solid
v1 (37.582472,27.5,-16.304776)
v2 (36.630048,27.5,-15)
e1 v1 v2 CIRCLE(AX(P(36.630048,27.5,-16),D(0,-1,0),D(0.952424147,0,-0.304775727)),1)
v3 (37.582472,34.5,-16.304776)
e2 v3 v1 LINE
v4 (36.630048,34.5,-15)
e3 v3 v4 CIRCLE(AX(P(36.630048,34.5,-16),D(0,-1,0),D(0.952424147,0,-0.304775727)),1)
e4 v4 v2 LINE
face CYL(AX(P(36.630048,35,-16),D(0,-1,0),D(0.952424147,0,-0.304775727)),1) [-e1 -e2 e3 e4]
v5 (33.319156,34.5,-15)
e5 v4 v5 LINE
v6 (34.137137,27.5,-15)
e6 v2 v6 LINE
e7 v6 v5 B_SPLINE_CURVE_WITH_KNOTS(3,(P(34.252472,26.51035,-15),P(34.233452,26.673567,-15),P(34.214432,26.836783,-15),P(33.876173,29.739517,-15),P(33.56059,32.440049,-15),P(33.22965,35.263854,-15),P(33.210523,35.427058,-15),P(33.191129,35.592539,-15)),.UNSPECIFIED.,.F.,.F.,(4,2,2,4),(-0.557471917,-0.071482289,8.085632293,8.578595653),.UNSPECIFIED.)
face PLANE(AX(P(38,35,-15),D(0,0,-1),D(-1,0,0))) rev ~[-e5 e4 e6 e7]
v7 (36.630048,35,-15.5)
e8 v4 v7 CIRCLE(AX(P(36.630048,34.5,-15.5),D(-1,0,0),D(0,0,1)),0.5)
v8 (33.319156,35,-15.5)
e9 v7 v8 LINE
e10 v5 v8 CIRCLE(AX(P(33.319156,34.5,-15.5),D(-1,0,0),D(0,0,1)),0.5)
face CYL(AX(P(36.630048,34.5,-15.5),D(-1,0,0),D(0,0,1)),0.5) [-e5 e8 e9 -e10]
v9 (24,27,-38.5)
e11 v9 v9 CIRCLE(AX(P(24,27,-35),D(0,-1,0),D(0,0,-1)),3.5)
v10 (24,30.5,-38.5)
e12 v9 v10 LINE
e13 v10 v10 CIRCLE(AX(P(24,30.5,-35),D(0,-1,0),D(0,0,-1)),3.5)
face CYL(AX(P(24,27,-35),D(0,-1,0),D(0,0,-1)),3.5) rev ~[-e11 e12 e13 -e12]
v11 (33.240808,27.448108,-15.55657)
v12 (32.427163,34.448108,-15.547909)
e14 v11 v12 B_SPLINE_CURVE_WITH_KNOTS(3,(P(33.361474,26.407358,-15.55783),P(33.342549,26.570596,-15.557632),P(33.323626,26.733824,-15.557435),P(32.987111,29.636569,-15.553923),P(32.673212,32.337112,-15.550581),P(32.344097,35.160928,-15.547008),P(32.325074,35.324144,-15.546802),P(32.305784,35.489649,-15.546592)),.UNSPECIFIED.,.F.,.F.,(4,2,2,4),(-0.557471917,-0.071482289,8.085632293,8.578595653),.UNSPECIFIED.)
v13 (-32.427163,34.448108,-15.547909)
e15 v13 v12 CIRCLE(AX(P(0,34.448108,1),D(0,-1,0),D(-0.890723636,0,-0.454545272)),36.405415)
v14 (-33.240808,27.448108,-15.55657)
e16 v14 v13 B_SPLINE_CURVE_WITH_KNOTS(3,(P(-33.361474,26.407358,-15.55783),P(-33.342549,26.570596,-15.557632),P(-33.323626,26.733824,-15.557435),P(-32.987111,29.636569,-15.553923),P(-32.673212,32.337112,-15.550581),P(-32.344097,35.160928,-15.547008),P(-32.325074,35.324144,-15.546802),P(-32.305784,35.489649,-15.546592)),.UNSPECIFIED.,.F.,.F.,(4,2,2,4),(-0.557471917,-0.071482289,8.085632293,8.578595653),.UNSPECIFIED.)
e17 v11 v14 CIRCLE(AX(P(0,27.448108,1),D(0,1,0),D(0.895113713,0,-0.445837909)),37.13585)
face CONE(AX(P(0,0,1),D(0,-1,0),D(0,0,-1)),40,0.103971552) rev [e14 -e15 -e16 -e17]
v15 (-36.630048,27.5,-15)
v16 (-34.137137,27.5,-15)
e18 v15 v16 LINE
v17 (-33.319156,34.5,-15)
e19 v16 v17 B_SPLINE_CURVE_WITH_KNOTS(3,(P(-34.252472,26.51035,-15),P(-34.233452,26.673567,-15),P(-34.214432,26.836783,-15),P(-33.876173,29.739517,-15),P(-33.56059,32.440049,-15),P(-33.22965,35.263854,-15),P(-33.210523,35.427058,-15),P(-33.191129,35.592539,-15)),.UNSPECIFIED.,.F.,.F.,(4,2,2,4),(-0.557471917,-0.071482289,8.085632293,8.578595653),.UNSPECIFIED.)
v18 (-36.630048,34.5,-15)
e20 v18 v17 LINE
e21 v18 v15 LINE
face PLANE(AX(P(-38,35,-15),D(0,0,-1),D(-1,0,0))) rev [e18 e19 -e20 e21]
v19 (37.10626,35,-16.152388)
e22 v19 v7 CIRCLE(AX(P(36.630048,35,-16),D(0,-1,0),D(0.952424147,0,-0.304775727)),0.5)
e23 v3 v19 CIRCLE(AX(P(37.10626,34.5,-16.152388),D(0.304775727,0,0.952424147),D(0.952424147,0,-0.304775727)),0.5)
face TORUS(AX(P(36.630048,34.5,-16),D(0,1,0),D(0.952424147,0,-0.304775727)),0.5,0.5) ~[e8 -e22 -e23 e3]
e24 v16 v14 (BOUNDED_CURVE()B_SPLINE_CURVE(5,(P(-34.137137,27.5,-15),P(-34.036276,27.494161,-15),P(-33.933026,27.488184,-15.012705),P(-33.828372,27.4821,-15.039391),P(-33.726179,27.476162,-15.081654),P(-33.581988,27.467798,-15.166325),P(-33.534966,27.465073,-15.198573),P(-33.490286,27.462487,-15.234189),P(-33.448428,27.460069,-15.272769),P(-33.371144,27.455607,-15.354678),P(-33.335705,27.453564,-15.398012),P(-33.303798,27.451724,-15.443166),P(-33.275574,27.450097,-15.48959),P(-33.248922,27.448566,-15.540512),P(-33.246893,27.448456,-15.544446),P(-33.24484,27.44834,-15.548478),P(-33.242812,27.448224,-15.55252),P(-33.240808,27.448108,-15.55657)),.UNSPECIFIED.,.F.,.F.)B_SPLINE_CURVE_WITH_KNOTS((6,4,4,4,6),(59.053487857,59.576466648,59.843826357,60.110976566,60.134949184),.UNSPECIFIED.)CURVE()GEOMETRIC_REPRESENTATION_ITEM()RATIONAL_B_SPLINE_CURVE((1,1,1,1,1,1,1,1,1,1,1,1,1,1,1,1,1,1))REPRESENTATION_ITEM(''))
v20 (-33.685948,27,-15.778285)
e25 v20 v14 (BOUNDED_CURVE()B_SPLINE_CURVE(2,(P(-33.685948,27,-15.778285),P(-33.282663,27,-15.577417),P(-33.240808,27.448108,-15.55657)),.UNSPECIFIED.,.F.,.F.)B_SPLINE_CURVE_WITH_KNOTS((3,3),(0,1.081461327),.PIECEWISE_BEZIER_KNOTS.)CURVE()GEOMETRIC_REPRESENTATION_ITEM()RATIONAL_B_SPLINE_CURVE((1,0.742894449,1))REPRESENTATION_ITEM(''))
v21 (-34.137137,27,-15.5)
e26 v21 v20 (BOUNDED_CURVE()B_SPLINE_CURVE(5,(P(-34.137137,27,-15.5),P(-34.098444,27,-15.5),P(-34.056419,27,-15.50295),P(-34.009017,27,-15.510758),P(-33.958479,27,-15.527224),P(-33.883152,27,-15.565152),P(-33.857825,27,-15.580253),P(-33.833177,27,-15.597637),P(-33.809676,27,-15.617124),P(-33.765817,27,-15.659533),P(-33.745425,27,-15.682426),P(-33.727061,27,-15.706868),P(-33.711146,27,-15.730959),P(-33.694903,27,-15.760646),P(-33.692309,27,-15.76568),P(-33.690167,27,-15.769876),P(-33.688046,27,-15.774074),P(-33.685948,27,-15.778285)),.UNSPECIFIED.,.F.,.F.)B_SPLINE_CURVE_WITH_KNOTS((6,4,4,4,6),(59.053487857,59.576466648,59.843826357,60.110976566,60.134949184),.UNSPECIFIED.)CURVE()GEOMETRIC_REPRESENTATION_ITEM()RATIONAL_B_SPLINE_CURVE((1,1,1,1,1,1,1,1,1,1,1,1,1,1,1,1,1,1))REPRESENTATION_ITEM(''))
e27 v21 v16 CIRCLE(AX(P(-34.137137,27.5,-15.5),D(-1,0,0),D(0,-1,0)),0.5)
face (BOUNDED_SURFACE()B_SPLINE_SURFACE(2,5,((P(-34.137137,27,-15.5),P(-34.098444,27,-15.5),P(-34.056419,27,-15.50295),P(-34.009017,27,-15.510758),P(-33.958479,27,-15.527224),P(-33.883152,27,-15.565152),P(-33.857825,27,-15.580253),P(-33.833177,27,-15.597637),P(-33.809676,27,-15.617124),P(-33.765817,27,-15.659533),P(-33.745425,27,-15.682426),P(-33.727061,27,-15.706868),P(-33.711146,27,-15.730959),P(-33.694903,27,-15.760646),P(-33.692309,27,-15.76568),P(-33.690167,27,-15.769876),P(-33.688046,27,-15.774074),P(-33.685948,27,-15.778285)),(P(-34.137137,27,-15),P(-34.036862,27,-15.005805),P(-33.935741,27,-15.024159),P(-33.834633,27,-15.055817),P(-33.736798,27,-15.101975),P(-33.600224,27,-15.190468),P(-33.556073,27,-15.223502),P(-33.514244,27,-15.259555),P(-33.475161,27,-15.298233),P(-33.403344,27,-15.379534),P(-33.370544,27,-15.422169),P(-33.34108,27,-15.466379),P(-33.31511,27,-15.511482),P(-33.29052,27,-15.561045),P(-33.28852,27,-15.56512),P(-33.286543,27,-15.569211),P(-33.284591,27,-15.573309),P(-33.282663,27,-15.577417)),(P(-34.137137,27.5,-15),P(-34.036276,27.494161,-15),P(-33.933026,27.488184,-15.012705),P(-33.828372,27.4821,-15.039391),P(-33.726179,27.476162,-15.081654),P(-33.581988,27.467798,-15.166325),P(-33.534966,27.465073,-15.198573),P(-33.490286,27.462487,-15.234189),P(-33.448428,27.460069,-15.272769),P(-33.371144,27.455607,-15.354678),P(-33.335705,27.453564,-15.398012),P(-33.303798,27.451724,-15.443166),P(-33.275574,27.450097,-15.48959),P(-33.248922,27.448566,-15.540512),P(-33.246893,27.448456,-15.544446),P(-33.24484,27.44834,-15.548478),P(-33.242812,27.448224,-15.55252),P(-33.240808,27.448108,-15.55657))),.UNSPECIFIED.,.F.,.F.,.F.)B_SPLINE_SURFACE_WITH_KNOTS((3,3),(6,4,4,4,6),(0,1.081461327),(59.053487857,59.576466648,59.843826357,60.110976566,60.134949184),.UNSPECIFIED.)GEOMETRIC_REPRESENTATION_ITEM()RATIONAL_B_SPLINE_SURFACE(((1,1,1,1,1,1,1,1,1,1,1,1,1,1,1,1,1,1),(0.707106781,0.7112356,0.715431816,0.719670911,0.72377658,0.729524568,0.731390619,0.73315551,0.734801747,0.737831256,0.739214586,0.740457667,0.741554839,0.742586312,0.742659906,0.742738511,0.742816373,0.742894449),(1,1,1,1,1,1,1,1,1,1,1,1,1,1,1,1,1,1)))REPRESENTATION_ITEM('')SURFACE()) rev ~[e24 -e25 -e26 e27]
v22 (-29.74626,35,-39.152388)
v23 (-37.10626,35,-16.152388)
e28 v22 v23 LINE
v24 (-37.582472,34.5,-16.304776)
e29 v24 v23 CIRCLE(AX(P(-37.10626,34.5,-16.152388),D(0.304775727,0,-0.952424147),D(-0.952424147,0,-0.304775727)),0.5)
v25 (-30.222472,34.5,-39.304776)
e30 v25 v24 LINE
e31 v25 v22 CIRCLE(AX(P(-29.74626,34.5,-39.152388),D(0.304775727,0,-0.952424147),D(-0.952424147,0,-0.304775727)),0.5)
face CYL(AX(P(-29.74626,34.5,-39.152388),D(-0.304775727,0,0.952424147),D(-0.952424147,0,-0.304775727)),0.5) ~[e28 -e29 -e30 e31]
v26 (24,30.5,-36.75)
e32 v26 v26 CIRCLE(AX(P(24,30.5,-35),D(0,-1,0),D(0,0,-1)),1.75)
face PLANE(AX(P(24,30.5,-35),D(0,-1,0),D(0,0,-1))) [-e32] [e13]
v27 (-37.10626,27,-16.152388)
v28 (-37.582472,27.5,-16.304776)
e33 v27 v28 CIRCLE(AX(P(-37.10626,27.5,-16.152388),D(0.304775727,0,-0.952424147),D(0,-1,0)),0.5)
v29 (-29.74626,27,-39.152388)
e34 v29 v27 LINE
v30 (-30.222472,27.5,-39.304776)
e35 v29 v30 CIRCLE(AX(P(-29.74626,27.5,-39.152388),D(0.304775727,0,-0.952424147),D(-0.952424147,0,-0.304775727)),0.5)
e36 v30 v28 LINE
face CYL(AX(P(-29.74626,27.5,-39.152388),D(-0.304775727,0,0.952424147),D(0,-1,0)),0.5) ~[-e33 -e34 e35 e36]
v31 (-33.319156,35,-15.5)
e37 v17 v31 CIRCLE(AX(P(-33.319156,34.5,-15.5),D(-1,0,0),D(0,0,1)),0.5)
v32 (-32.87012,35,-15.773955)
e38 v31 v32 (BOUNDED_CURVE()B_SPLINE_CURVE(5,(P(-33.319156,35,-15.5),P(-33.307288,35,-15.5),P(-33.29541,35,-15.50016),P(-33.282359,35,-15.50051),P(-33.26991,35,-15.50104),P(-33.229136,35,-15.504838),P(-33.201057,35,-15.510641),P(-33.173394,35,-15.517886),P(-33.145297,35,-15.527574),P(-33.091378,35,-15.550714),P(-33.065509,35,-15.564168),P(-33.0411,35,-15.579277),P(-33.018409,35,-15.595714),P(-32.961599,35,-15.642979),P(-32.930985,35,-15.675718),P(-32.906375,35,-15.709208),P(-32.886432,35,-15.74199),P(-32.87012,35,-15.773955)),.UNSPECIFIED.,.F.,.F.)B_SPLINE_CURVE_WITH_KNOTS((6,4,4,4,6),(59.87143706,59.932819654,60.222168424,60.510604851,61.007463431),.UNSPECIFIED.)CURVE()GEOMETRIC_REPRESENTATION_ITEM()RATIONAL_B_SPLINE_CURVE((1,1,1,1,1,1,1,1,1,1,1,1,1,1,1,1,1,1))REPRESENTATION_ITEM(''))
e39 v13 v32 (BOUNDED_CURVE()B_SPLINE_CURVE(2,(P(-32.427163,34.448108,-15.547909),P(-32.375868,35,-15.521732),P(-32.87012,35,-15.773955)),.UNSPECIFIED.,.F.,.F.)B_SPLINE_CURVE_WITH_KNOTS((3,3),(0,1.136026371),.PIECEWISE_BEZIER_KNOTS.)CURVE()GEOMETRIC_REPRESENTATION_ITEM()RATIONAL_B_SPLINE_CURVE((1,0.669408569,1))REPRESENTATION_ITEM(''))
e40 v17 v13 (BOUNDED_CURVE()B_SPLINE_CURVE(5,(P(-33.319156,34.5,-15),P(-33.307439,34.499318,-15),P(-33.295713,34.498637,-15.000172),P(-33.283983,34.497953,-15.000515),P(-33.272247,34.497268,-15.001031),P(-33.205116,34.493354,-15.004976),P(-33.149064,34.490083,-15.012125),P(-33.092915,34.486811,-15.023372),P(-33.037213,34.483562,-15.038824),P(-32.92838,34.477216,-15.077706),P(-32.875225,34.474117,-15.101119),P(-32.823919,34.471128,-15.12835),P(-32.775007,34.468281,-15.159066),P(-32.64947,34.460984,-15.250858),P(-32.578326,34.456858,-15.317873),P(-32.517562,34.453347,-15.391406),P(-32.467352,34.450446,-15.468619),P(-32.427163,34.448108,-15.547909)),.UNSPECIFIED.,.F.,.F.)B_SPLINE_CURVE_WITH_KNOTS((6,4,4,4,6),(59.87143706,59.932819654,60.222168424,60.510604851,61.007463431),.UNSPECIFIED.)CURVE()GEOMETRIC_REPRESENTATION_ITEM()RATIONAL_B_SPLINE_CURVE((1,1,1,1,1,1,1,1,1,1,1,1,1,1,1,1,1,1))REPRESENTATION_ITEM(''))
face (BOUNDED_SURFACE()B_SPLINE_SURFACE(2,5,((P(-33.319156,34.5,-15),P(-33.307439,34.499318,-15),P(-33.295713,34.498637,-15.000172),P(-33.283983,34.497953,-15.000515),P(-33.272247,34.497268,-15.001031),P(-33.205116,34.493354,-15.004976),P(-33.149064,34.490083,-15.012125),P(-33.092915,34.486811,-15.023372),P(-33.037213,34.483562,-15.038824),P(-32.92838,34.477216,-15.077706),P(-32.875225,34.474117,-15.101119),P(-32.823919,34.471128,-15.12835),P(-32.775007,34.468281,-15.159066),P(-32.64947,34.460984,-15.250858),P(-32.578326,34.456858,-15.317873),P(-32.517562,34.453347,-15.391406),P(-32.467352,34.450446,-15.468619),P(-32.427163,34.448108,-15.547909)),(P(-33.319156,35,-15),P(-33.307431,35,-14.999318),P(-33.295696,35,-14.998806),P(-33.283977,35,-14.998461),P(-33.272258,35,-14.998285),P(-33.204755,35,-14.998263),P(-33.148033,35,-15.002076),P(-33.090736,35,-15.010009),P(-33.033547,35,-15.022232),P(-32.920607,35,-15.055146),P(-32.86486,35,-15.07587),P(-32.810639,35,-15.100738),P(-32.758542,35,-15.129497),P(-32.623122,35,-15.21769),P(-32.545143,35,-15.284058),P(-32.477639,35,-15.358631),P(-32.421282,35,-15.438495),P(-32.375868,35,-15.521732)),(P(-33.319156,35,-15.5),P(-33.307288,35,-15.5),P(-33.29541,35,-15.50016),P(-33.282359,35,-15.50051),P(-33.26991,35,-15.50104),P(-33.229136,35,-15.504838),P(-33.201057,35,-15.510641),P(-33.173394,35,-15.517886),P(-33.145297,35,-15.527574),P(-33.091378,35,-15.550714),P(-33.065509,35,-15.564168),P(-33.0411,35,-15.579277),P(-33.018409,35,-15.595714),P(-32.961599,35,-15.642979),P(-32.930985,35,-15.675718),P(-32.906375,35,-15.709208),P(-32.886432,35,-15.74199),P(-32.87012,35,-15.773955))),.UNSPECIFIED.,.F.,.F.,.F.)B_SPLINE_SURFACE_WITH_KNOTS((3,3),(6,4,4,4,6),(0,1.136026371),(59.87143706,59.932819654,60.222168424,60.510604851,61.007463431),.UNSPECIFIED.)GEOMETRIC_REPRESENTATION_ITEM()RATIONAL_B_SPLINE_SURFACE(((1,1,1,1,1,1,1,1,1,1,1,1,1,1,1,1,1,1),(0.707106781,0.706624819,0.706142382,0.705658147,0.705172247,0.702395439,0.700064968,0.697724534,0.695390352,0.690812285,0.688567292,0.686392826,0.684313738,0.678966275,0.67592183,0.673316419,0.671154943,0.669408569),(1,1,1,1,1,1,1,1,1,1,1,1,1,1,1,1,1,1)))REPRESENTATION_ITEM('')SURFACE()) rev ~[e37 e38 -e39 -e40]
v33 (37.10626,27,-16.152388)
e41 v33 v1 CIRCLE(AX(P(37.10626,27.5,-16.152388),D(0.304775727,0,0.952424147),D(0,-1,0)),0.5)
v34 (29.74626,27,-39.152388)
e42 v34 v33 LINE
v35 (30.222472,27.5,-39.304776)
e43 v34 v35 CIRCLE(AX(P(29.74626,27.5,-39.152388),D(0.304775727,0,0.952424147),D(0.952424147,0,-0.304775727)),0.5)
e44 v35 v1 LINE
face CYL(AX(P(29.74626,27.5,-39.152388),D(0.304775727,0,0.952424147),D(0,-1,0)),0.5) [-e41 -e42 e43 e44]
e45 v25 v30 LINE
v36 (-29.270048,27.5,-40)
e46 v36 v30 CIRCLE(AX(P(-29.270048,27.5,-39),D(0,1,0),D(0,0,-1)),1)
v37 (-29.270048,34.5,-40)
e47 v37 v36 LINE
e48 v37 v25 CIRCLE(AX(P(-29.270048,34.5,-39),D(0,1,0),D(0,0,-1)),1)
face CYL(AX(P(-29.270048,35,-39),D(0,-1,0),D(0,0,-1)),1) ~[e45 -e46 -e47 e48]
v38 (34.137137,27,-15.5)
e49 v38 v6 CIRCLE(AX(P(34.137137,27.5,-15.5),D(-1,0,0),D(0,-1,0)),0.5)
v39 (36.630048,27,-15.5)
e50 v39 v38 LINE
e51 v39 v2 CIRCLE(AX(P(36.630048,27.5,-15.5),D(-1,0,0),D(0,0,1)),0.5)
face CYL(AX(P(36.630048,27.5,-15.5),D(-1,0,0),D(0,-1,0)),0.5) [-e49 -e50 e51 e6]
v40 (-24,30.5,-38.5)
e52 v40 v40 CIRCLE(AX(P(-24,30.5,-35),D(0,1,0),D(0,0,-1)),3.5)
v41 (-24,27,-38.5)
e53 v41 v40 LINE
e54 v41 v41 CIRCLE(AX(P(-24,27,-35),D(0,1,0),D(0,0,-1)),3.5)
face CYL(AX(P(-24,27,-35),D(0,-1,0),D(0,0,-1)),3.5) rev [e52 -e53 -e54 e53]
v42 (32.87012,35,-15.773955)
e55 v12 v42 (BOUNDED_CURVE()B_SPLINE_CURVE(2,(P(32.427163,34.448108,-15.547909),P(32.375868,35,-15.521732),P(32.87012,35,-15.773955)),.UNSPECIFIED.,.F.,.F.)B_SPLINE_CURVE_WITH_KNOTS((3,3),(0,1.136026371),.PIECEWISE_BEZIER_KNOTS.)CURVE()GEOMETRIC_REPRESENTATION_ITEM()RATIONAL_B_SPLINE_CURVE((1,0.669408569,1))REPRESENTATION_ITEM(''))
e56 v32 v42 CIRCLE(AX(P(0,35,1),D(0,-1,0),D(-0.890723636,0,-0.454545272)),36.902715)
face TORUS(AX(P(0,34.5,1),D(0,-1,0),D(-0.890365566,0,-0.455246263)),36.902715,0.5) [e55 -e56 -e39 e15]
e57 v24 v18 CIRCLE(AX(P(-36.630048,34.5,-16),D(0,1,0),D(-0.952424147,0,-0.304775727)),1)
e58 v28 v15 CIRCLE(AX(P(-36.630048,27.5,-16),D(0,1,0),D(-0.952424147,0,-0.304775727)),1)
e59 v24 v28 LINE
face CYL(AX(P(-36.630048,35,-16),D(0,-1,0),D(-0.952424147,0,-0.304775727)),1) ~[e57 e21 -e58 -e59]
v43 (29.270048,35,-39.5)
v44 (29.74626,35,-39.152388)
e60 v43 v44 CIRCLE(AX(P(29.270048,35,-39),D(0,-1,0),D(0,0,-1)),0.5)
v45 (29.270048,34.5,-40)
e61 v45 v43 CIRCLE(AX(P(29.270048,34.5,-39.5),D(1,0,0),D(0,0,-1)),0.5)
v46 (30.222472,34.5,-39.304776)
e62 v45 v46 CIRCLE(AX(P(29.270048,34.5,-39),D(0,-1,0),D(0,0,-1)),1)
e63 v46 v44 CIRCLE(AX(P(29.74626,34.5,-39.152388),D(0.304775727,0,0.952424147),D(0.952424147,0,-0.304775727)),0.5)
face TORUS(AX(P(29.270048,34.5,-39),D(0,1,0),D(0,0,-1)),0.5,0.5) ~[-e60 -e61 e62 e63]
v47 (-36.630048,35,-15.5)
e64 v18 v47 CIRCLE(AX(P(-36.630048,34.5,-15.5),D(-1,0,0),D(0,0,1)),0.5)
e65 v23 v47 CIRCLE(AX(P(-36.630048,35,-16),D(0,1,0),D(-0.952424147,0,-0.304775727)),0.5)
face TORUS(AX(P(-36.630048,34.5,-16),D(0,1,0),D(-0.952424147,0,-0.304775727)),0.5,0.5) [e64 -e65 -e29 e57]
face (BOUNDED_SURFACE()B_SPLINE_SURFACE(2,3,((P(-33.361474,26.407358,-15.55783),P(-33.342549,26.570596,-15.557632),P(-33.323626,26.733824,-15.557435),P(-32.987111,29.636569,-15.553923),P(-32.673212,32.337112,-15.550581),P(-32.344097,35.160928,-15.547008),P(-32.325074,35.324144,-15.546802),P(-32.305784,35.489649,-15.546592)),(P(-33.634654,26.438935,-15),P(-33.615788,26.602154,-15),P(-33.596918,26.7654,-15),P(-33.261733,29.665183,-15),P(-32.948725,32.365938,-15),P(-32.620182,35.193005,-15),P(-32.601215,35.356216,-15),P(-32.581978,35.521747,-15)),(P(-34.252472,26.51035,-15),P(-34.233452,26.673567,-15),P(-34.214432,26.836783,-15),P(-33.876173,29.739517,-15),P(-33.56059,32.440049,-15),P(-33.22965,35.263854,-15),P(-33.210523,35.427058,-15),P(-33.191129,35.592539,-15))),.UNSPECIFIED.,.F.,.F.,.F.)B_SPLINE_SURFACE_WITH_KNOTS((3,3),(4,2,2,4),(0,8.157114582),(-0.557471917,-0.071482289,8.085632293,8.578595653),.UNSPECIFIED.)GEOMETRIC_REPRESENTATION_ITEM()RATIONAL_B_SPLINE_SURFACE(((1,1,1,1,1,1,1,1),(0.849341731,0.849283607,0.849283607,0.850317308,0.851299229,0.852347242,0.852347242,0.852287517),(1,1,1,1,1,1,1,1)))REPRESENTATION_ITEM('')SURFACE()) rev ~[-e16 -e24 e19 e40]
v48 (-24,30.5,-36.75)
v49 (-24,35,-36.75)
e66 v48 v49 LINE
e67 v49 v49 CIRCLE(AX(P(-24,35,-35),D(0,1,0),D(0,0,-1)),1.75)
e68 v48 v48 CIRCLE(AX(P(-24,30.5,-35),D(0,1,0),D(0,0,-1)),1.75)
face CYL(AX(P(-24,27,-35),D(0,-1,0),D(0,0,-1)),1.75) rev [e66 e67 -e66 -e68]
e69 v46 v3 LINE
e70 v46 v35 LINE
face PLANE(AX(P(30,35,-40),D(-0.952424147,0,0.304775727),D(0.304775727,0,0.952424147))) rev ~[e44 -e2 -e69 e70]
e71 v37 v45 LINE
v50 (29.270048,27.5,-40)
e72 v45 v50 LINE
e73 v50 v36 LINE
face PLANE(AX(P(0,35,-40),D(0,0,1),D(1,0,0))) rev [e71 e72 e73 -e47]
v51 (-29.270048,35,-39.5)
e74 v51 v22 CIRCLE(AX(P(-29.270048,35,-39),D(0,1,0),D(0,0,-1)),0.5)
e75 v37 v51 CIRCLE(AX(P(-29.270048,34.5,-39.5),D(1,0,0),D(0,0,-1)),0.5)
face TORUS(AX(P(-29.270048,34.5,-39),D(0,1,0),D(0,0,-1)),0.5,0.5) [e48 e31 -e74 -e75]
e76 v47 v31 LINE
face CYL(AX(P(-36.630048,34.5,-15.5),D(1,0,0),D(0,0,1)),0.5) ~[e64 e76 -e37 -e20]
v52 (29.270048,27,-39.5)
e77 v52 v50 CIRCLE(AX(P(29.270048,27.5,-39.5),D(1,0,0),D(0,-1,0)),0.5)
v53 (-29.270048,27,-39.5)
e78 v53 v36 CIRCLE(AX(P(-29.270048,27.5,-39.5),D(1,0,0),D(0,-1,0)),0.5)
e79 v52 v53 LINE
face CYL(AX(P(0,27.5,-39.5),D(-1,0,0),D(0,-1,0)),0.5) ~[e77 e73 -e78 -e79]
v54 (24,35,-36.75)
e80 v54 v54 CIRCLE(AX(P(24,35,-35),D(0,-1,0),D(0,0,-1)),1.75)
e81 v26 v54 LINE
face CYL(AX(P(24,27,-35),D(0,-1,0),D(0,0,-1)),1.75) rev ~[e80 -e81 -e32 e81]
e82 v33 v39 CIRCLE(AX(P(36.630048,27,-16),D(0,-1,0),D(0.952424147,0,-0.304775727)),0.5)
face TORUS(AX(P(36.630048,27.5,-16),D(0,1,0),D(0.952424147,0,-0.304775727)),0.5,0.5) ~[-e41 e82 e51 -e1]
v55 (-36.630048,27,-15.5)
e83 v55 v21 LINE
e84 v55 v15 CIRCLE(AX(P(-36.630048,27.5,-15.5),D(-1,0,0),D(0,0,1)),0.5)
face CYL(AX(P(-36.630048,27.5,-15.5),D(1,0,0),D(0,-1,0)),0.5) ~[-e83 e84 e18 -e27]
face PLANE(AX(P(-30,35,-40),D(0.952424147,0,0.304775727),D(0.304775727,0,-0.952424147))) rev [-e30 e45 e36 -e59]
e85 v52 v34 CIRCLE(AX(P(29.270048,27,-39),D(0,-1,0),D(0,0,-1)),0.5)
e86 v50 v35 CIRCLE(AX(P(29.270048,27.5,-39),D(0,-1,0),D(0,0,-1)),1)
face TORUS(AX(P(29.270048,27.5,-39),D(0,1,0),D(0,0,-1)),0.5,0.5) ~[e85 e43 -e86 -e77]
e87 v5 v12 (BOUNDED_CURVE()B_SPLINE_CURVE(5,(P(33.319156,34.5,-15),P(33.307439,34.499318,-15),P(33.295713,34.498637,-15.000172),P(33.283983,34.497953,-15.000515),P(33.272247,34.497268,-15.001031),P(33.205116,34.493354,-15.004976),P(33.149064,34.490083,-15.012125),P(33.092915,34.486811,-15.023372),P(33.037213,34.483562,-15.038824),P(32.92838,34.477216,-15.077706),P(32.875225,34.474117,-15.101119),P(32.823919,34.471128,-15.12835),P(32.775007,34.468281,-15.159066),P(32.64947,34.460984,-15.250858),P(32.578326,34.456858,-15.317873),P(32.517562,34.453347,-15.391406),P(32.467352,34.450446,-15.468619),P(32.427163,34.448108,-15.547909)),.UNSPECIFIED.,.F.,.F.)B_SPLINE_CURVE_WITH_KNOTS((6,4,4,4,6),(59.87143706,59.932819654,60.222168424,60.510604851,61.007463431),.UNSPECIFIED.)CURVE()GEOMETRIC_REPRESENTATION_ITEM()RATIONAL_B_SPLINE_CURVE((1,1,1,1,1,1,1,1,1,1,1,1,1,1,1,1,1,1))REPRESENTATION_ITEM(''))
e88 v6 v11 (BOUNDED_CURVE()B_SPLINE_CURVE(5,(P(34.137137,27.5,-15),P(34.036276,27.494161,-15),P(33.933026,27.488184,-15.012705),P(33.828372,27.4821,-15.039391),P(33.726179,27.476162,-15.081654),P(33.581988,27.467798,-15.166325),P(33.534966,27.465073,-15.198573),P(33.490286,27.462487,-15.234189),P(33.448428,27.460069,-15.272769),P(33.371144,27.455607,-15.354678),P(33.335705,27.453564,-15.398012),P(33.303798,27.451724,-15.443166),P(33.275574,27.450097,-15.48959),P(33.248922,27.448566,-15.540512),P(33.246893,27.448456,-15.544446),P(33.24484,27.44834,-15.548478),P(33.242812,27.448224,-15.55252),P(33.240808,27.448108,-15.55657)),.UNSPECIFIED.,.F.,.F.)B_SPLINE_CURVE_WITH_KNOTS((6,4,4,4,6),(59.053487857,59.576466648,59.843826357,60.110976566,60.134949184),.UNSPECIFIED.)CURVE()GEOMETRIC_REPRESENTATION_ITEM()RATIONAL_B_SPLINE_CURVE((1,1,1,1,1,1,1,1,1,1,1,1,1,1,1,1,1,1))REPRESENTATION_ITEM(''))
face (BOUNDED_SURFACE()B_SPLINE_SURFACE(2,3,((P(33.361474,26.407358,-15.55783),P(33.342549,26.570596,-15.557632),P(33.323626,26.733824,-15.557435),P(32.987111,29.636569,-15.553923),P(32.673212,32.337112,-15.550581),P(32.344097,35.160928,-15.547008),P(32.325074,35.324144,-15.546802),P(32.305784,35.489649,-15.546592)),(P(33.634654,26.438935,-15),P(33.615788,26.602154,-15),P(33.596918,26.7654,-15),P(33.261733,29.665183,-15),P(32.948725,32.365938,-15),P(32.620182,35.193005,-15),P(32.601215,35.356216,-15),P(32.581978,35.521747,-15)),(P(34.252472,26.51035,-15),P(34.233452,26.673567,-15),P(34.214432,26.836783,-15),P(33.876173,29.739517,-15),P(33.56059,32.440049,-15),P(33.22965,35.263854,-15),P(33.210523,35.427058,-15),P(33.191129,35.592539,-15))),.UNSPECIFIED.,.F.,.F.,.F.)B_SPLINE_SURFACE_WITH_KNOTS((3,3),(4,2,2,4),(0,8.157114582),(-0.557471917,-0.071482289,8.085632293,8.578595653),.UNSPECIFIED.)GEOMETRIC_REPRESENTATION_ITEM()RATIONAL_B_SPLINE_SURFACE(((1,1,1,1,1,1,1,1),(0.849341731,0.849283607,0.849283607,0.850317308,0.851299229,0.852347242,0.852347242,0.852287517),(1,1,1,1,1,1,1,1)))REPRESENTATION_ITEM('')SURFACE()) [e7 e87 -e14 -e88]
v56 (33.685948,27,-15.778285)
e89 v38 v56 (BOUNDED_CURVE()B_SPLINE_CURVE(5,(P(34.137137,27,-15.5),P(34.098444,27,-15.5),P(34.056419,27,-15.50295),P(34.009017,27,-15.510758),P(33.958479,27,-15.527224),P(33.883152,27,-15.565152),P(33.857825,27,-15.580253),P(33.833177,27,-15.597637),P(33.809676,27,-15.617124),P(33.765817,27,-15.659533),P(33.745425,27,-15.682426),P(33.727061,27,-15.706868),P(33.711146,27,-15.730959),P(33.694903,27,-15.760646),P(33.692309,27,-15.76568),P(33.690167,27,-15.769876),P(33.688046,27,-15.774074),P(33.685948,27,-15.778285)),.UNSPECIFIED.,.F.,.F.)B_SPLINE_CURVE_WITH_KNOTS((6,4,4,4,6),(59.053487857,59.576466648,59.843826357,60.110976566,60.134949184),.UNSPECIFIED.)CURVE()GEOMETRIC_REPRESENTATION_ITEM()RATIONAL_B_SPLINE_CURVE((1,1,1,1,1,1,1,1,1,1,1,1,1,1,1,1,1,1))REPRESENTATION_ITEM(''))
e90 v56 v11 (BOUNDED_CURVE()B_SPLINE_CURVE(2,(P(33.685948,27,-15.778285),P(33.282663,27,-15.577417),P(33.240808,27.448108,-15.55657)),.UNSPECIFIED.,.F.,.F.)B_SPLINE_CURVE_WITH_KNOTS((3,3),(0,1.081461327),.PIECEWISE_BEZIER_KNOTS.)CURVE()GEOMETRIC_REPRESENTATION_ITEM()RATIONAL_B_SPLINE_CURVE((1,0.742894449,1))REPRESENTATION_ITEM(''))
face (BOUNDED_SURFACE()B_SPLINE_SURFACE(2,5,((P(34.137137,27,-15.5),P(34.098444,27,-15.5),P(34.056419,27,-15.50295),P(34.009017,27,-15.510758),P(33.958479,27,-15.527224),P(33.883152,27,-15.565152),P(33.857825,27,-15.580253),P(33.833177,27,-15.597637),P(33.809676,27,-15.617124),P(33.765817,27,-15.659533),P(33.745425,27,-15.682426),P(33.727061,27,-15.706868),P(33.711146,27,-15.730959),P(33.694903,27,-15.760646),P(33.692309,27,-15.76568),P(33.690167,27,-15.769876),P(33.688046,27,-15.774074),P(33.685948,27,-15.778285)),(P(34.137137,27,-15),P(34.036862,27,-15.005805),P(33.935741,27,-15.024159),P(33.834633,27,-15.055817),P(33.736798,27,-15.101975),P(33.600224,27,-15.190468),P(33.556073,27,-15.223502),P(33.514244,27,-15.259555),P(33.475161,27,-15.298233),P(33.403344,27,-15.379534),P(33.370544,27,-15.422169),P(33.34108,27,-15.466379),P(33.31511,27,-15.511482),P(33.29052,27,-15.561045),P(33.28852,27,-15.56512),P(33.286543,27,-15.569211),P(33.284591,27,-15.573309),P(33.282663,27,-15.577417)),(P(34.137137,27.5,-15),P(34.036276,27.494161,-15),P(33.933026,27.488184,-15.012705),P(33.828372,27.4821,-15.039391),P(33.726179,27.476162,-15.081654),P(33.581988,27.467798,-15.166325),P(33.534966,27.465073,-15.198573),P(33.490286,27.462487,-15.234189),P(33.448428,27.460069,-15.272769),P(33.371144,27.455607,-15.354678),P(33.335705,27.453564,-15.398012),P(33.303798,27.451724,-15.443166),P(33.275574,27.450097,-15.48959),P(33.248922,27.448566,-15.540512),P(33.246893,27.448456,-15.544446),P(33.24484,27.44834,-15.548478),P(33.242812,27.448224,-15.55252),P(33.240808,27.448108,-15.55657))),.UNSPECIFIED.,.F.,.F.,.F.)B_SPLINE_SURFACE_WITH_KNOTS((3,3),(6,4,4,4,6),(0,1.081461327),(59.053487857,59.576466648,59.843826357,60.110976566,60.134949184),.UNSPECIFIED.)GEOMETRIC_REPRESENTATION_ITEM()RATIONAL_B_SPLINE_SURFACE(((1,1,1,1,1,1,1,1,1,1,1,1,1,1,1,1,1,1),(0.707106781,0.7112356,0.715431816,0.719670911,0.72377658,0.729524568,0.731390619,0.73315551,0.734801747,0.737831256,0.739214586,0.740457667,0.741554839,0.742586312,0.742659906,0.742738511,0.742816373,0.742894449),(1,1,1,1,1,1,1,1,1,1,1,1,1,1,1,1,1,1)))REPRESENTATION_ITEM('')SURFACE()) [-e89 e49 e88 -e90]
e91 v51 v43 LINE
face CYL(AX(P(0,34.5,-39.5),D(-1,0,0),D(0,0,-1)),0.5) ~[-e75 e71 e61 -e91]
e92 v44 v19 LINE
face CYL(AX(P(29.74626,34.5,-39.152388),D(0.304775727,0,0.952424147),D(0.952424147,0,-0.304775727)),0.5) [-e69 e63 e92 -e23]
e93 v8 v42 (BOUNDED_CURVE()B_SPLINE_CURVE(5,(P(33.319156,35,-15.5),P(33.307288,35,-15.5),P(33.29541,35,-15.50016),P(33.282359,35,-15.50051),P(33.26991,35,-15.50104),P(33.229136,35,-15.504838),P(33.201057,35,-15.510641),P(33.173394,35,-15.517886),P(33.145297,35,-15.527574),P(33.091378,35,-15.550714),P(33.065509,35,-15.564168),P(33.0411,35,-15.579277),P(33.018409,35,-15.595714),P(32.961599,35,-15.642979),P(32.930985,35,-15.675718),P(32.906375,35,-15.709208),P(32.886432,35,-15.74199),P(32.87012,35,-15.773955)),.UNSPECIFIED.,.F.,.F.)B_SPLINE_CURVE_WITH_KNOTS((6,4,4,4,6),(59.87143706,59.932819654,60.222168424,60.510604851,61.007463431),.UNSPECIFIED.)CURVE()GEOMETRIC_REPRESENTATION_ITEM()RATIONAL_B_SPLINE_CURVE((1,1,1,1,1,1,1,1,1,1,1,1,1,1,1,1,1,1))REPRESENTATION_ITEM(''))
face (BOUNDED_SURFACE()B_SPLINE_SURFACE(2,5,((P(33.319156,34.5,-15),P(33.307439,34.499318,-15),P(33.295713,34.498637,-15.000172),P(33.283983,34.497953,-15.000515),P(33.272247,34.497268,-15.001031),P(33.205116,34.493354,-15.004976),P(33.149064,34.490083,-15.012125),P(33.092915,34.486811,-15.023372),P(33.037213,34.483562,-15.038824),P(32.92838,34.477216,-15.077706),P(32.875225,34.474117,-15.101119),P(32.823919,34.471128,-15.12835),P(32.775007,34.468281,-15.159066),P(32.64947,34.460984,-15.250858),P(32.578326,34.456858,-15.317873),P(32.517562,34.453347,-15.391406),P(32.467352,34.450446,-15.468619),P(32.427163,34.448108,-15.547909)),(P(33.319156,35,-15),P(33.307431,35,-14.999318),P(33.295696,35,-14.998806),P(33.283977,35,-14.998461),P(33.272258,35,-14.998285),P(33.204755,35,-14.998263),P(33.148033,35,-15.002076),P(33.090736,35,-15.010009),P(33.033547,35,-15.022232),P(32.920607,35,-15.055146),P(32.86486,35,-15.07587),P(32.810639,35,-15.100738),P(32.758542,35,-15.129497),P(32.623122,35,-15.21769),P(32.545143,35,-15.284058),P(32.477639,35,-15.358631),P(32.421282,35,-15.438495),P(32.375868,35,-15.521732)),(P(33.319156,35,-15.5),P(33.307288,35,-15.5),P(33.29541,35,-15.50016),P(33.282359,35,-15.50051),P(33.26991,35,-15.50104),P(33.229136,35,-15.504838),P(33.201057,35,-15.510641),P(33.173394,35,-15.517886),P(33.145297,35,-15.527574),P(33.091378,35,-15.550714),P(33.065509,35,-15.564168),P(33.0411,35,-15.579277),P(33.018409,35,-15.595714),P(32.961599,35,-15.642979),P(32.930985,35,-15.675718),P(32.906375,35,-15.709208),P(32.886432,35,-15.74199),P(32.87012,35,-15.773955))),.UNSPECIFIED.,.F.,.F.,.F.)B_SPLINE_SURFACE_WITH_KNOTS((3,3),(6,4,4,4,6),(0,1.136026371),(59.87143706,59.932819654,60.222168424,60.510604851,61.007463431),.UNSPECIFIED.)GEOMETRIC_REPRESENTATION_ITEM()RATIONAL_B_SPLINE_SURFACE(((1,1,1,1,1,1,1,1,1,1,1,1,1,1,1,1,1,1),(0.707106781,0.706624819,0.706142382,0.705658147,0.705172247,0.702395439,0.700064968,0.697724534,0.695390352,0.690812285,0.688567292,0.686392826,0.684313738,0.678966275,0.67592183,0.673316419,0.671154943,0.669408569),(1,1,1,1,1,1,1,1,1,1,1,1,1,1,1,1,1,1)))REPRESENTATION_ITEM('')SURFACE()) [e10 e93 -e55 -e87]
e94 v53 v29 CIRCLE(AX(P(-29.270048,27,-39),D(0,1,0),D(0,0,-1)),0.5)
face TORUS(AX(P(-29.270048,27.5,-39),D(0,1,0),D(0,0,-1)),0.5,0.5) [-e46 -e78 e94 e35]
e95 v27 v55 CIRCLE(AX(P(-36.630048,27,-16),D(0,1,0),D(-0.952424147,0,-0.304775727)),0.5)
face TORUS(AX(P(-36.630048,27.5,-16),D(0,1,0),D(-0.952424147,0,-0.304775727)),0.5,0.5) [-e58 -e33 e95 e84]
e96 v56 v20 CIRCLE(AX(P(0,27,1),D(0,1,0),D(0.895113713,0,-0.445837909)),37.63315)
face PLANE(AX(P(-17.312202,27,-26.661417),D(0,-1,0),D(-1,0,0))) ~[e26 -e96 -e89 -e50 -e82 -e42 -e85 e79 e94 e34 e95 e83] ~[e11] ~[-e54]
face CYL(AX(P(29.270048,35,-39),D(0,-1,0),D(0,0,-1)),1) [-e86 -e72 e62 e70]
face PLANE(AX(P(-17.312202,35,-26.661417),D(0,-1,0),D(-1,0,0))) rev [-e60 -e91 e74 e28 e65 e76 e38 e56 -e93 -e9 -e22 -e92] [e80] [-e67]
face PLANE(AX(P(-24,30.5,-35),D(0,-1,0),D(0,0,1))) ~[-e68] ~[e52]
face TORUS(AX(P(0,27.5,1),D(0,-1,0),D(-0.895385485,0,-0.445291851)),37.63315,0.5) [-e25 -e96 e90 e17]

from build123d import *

# Parameters (mm, degrees)
BOSS_EXTRU_1_START      = 35
BOSS_EXTRU_1_DEPTH      = 8
CONG_1_R                = 1
ESQUISSE3_R             = 1.75
ENL_V_MAT_EXTRU_1_DEPTH = 56.497932403
ESQUISSE4_R             = 3.5
ENL_V_MAT_EXTRU_2_DEPTH = 3.5
CONG_2_R                = 0.5


with BuildPart() as part:
    # Esquisse1 → Boss.-Extru.1 (new body)
    with BuildSketch(Plane(origin=(0, 0, 0), x_dir=(1, 0, 0), z_dir=(0, 1, 0)).offset(BOSS_EXTRU_1_START)):
        Polygon((0, 40), (30, 40), (38, 15), (0, 15), align=None)
    extrude(amount=-BOSS_EXTRU_1_DEPTH)

    # Esquisse2 → Enlèvement de matière-Révolution1 (revolve, cut)
    with BuildSketch(Plane(origin=(0, 0, 0), x_dir=(0, 0, -1), z_dir=(1, 0, 0))):
        Polygon((39, 0), (27, 115), (-1, 115), (-1, 0), align=None)
    revolve(axis=Axis((0, 115, 1), (0, 1, 0)), mode=Mode.SUBTRACT)

    # Congé1
    cong_1_edges = [part.edges().sort_by_distance(p)[0] for p in [
        (33.101067508, 31.000070332, -15),
        (30, 31, -40),
        (38, 31, -15),
    ]]
    fillet(cong_1_edges, radius=CONG_1_R)

    # Esquisse3 → Enlèv. mat.-Extru.1 (cut, through all)
    with BuildSketch(Plane.XZ.offset(-27)):
        with Locations(Location((24, -35, 0), (0, 0, 270))):
            Circle(ESQUISSE3_R)
    extrude(amount=-ENL_V_MAT_EXTRU_1_DEPTH, mode=Mode.SUBTRACT)

    # Esquisse4 → Enlèv. mat.-Extru.2 (cut)
    with BuildSketch(Plane.XZ.offset(-27)):
        with Locations(Location((24, -35, 0), (0, 0, 270))):
            Circle(ESQUISSE4_R)
    extrude(amount=-ENL_V_MAT_EXTRU_2_DEPTH, mode=Mode.SUBTRACT)

    # Congé2
    cong_2_edges = [part.edges().sort_by_distance(p)[0] for p in [
        (37.437752927, 27, -15.410413589),
        (33.902471767, 27, -27.804775727),
        (29.859634031, 27, -39.807705307),
        (33.664775152, 27, -15.150178589),
        (14.63502381, 35, -40),
        (29.859634031, 35, -39.807705307),
        (33.902471767, 35, -27.804775727),
        (37.437752927, 35, -15.410413589),
        (34.945309997, 35, -15),
        (32.73463145, 35, -15.147278852),
        (14.63502381, 27, -40),
        (19.582003838, 27, -30.60840893),
        (18.969834976, 35, -30.00499673),
        (35.412730047, 27, -15),
    ]]
    fillet(cong_2_edges, radius=CONG_2_R)

    # Symétrie1: part across plane


with BuildPart() as part_1:
    add(part.part)
    add(part.part.mirror(Plane(origin=(0, 27, -40), x_dir=(0, 0, 1), z_dir=(-1, 0, 0))))


solid = part_1.part
